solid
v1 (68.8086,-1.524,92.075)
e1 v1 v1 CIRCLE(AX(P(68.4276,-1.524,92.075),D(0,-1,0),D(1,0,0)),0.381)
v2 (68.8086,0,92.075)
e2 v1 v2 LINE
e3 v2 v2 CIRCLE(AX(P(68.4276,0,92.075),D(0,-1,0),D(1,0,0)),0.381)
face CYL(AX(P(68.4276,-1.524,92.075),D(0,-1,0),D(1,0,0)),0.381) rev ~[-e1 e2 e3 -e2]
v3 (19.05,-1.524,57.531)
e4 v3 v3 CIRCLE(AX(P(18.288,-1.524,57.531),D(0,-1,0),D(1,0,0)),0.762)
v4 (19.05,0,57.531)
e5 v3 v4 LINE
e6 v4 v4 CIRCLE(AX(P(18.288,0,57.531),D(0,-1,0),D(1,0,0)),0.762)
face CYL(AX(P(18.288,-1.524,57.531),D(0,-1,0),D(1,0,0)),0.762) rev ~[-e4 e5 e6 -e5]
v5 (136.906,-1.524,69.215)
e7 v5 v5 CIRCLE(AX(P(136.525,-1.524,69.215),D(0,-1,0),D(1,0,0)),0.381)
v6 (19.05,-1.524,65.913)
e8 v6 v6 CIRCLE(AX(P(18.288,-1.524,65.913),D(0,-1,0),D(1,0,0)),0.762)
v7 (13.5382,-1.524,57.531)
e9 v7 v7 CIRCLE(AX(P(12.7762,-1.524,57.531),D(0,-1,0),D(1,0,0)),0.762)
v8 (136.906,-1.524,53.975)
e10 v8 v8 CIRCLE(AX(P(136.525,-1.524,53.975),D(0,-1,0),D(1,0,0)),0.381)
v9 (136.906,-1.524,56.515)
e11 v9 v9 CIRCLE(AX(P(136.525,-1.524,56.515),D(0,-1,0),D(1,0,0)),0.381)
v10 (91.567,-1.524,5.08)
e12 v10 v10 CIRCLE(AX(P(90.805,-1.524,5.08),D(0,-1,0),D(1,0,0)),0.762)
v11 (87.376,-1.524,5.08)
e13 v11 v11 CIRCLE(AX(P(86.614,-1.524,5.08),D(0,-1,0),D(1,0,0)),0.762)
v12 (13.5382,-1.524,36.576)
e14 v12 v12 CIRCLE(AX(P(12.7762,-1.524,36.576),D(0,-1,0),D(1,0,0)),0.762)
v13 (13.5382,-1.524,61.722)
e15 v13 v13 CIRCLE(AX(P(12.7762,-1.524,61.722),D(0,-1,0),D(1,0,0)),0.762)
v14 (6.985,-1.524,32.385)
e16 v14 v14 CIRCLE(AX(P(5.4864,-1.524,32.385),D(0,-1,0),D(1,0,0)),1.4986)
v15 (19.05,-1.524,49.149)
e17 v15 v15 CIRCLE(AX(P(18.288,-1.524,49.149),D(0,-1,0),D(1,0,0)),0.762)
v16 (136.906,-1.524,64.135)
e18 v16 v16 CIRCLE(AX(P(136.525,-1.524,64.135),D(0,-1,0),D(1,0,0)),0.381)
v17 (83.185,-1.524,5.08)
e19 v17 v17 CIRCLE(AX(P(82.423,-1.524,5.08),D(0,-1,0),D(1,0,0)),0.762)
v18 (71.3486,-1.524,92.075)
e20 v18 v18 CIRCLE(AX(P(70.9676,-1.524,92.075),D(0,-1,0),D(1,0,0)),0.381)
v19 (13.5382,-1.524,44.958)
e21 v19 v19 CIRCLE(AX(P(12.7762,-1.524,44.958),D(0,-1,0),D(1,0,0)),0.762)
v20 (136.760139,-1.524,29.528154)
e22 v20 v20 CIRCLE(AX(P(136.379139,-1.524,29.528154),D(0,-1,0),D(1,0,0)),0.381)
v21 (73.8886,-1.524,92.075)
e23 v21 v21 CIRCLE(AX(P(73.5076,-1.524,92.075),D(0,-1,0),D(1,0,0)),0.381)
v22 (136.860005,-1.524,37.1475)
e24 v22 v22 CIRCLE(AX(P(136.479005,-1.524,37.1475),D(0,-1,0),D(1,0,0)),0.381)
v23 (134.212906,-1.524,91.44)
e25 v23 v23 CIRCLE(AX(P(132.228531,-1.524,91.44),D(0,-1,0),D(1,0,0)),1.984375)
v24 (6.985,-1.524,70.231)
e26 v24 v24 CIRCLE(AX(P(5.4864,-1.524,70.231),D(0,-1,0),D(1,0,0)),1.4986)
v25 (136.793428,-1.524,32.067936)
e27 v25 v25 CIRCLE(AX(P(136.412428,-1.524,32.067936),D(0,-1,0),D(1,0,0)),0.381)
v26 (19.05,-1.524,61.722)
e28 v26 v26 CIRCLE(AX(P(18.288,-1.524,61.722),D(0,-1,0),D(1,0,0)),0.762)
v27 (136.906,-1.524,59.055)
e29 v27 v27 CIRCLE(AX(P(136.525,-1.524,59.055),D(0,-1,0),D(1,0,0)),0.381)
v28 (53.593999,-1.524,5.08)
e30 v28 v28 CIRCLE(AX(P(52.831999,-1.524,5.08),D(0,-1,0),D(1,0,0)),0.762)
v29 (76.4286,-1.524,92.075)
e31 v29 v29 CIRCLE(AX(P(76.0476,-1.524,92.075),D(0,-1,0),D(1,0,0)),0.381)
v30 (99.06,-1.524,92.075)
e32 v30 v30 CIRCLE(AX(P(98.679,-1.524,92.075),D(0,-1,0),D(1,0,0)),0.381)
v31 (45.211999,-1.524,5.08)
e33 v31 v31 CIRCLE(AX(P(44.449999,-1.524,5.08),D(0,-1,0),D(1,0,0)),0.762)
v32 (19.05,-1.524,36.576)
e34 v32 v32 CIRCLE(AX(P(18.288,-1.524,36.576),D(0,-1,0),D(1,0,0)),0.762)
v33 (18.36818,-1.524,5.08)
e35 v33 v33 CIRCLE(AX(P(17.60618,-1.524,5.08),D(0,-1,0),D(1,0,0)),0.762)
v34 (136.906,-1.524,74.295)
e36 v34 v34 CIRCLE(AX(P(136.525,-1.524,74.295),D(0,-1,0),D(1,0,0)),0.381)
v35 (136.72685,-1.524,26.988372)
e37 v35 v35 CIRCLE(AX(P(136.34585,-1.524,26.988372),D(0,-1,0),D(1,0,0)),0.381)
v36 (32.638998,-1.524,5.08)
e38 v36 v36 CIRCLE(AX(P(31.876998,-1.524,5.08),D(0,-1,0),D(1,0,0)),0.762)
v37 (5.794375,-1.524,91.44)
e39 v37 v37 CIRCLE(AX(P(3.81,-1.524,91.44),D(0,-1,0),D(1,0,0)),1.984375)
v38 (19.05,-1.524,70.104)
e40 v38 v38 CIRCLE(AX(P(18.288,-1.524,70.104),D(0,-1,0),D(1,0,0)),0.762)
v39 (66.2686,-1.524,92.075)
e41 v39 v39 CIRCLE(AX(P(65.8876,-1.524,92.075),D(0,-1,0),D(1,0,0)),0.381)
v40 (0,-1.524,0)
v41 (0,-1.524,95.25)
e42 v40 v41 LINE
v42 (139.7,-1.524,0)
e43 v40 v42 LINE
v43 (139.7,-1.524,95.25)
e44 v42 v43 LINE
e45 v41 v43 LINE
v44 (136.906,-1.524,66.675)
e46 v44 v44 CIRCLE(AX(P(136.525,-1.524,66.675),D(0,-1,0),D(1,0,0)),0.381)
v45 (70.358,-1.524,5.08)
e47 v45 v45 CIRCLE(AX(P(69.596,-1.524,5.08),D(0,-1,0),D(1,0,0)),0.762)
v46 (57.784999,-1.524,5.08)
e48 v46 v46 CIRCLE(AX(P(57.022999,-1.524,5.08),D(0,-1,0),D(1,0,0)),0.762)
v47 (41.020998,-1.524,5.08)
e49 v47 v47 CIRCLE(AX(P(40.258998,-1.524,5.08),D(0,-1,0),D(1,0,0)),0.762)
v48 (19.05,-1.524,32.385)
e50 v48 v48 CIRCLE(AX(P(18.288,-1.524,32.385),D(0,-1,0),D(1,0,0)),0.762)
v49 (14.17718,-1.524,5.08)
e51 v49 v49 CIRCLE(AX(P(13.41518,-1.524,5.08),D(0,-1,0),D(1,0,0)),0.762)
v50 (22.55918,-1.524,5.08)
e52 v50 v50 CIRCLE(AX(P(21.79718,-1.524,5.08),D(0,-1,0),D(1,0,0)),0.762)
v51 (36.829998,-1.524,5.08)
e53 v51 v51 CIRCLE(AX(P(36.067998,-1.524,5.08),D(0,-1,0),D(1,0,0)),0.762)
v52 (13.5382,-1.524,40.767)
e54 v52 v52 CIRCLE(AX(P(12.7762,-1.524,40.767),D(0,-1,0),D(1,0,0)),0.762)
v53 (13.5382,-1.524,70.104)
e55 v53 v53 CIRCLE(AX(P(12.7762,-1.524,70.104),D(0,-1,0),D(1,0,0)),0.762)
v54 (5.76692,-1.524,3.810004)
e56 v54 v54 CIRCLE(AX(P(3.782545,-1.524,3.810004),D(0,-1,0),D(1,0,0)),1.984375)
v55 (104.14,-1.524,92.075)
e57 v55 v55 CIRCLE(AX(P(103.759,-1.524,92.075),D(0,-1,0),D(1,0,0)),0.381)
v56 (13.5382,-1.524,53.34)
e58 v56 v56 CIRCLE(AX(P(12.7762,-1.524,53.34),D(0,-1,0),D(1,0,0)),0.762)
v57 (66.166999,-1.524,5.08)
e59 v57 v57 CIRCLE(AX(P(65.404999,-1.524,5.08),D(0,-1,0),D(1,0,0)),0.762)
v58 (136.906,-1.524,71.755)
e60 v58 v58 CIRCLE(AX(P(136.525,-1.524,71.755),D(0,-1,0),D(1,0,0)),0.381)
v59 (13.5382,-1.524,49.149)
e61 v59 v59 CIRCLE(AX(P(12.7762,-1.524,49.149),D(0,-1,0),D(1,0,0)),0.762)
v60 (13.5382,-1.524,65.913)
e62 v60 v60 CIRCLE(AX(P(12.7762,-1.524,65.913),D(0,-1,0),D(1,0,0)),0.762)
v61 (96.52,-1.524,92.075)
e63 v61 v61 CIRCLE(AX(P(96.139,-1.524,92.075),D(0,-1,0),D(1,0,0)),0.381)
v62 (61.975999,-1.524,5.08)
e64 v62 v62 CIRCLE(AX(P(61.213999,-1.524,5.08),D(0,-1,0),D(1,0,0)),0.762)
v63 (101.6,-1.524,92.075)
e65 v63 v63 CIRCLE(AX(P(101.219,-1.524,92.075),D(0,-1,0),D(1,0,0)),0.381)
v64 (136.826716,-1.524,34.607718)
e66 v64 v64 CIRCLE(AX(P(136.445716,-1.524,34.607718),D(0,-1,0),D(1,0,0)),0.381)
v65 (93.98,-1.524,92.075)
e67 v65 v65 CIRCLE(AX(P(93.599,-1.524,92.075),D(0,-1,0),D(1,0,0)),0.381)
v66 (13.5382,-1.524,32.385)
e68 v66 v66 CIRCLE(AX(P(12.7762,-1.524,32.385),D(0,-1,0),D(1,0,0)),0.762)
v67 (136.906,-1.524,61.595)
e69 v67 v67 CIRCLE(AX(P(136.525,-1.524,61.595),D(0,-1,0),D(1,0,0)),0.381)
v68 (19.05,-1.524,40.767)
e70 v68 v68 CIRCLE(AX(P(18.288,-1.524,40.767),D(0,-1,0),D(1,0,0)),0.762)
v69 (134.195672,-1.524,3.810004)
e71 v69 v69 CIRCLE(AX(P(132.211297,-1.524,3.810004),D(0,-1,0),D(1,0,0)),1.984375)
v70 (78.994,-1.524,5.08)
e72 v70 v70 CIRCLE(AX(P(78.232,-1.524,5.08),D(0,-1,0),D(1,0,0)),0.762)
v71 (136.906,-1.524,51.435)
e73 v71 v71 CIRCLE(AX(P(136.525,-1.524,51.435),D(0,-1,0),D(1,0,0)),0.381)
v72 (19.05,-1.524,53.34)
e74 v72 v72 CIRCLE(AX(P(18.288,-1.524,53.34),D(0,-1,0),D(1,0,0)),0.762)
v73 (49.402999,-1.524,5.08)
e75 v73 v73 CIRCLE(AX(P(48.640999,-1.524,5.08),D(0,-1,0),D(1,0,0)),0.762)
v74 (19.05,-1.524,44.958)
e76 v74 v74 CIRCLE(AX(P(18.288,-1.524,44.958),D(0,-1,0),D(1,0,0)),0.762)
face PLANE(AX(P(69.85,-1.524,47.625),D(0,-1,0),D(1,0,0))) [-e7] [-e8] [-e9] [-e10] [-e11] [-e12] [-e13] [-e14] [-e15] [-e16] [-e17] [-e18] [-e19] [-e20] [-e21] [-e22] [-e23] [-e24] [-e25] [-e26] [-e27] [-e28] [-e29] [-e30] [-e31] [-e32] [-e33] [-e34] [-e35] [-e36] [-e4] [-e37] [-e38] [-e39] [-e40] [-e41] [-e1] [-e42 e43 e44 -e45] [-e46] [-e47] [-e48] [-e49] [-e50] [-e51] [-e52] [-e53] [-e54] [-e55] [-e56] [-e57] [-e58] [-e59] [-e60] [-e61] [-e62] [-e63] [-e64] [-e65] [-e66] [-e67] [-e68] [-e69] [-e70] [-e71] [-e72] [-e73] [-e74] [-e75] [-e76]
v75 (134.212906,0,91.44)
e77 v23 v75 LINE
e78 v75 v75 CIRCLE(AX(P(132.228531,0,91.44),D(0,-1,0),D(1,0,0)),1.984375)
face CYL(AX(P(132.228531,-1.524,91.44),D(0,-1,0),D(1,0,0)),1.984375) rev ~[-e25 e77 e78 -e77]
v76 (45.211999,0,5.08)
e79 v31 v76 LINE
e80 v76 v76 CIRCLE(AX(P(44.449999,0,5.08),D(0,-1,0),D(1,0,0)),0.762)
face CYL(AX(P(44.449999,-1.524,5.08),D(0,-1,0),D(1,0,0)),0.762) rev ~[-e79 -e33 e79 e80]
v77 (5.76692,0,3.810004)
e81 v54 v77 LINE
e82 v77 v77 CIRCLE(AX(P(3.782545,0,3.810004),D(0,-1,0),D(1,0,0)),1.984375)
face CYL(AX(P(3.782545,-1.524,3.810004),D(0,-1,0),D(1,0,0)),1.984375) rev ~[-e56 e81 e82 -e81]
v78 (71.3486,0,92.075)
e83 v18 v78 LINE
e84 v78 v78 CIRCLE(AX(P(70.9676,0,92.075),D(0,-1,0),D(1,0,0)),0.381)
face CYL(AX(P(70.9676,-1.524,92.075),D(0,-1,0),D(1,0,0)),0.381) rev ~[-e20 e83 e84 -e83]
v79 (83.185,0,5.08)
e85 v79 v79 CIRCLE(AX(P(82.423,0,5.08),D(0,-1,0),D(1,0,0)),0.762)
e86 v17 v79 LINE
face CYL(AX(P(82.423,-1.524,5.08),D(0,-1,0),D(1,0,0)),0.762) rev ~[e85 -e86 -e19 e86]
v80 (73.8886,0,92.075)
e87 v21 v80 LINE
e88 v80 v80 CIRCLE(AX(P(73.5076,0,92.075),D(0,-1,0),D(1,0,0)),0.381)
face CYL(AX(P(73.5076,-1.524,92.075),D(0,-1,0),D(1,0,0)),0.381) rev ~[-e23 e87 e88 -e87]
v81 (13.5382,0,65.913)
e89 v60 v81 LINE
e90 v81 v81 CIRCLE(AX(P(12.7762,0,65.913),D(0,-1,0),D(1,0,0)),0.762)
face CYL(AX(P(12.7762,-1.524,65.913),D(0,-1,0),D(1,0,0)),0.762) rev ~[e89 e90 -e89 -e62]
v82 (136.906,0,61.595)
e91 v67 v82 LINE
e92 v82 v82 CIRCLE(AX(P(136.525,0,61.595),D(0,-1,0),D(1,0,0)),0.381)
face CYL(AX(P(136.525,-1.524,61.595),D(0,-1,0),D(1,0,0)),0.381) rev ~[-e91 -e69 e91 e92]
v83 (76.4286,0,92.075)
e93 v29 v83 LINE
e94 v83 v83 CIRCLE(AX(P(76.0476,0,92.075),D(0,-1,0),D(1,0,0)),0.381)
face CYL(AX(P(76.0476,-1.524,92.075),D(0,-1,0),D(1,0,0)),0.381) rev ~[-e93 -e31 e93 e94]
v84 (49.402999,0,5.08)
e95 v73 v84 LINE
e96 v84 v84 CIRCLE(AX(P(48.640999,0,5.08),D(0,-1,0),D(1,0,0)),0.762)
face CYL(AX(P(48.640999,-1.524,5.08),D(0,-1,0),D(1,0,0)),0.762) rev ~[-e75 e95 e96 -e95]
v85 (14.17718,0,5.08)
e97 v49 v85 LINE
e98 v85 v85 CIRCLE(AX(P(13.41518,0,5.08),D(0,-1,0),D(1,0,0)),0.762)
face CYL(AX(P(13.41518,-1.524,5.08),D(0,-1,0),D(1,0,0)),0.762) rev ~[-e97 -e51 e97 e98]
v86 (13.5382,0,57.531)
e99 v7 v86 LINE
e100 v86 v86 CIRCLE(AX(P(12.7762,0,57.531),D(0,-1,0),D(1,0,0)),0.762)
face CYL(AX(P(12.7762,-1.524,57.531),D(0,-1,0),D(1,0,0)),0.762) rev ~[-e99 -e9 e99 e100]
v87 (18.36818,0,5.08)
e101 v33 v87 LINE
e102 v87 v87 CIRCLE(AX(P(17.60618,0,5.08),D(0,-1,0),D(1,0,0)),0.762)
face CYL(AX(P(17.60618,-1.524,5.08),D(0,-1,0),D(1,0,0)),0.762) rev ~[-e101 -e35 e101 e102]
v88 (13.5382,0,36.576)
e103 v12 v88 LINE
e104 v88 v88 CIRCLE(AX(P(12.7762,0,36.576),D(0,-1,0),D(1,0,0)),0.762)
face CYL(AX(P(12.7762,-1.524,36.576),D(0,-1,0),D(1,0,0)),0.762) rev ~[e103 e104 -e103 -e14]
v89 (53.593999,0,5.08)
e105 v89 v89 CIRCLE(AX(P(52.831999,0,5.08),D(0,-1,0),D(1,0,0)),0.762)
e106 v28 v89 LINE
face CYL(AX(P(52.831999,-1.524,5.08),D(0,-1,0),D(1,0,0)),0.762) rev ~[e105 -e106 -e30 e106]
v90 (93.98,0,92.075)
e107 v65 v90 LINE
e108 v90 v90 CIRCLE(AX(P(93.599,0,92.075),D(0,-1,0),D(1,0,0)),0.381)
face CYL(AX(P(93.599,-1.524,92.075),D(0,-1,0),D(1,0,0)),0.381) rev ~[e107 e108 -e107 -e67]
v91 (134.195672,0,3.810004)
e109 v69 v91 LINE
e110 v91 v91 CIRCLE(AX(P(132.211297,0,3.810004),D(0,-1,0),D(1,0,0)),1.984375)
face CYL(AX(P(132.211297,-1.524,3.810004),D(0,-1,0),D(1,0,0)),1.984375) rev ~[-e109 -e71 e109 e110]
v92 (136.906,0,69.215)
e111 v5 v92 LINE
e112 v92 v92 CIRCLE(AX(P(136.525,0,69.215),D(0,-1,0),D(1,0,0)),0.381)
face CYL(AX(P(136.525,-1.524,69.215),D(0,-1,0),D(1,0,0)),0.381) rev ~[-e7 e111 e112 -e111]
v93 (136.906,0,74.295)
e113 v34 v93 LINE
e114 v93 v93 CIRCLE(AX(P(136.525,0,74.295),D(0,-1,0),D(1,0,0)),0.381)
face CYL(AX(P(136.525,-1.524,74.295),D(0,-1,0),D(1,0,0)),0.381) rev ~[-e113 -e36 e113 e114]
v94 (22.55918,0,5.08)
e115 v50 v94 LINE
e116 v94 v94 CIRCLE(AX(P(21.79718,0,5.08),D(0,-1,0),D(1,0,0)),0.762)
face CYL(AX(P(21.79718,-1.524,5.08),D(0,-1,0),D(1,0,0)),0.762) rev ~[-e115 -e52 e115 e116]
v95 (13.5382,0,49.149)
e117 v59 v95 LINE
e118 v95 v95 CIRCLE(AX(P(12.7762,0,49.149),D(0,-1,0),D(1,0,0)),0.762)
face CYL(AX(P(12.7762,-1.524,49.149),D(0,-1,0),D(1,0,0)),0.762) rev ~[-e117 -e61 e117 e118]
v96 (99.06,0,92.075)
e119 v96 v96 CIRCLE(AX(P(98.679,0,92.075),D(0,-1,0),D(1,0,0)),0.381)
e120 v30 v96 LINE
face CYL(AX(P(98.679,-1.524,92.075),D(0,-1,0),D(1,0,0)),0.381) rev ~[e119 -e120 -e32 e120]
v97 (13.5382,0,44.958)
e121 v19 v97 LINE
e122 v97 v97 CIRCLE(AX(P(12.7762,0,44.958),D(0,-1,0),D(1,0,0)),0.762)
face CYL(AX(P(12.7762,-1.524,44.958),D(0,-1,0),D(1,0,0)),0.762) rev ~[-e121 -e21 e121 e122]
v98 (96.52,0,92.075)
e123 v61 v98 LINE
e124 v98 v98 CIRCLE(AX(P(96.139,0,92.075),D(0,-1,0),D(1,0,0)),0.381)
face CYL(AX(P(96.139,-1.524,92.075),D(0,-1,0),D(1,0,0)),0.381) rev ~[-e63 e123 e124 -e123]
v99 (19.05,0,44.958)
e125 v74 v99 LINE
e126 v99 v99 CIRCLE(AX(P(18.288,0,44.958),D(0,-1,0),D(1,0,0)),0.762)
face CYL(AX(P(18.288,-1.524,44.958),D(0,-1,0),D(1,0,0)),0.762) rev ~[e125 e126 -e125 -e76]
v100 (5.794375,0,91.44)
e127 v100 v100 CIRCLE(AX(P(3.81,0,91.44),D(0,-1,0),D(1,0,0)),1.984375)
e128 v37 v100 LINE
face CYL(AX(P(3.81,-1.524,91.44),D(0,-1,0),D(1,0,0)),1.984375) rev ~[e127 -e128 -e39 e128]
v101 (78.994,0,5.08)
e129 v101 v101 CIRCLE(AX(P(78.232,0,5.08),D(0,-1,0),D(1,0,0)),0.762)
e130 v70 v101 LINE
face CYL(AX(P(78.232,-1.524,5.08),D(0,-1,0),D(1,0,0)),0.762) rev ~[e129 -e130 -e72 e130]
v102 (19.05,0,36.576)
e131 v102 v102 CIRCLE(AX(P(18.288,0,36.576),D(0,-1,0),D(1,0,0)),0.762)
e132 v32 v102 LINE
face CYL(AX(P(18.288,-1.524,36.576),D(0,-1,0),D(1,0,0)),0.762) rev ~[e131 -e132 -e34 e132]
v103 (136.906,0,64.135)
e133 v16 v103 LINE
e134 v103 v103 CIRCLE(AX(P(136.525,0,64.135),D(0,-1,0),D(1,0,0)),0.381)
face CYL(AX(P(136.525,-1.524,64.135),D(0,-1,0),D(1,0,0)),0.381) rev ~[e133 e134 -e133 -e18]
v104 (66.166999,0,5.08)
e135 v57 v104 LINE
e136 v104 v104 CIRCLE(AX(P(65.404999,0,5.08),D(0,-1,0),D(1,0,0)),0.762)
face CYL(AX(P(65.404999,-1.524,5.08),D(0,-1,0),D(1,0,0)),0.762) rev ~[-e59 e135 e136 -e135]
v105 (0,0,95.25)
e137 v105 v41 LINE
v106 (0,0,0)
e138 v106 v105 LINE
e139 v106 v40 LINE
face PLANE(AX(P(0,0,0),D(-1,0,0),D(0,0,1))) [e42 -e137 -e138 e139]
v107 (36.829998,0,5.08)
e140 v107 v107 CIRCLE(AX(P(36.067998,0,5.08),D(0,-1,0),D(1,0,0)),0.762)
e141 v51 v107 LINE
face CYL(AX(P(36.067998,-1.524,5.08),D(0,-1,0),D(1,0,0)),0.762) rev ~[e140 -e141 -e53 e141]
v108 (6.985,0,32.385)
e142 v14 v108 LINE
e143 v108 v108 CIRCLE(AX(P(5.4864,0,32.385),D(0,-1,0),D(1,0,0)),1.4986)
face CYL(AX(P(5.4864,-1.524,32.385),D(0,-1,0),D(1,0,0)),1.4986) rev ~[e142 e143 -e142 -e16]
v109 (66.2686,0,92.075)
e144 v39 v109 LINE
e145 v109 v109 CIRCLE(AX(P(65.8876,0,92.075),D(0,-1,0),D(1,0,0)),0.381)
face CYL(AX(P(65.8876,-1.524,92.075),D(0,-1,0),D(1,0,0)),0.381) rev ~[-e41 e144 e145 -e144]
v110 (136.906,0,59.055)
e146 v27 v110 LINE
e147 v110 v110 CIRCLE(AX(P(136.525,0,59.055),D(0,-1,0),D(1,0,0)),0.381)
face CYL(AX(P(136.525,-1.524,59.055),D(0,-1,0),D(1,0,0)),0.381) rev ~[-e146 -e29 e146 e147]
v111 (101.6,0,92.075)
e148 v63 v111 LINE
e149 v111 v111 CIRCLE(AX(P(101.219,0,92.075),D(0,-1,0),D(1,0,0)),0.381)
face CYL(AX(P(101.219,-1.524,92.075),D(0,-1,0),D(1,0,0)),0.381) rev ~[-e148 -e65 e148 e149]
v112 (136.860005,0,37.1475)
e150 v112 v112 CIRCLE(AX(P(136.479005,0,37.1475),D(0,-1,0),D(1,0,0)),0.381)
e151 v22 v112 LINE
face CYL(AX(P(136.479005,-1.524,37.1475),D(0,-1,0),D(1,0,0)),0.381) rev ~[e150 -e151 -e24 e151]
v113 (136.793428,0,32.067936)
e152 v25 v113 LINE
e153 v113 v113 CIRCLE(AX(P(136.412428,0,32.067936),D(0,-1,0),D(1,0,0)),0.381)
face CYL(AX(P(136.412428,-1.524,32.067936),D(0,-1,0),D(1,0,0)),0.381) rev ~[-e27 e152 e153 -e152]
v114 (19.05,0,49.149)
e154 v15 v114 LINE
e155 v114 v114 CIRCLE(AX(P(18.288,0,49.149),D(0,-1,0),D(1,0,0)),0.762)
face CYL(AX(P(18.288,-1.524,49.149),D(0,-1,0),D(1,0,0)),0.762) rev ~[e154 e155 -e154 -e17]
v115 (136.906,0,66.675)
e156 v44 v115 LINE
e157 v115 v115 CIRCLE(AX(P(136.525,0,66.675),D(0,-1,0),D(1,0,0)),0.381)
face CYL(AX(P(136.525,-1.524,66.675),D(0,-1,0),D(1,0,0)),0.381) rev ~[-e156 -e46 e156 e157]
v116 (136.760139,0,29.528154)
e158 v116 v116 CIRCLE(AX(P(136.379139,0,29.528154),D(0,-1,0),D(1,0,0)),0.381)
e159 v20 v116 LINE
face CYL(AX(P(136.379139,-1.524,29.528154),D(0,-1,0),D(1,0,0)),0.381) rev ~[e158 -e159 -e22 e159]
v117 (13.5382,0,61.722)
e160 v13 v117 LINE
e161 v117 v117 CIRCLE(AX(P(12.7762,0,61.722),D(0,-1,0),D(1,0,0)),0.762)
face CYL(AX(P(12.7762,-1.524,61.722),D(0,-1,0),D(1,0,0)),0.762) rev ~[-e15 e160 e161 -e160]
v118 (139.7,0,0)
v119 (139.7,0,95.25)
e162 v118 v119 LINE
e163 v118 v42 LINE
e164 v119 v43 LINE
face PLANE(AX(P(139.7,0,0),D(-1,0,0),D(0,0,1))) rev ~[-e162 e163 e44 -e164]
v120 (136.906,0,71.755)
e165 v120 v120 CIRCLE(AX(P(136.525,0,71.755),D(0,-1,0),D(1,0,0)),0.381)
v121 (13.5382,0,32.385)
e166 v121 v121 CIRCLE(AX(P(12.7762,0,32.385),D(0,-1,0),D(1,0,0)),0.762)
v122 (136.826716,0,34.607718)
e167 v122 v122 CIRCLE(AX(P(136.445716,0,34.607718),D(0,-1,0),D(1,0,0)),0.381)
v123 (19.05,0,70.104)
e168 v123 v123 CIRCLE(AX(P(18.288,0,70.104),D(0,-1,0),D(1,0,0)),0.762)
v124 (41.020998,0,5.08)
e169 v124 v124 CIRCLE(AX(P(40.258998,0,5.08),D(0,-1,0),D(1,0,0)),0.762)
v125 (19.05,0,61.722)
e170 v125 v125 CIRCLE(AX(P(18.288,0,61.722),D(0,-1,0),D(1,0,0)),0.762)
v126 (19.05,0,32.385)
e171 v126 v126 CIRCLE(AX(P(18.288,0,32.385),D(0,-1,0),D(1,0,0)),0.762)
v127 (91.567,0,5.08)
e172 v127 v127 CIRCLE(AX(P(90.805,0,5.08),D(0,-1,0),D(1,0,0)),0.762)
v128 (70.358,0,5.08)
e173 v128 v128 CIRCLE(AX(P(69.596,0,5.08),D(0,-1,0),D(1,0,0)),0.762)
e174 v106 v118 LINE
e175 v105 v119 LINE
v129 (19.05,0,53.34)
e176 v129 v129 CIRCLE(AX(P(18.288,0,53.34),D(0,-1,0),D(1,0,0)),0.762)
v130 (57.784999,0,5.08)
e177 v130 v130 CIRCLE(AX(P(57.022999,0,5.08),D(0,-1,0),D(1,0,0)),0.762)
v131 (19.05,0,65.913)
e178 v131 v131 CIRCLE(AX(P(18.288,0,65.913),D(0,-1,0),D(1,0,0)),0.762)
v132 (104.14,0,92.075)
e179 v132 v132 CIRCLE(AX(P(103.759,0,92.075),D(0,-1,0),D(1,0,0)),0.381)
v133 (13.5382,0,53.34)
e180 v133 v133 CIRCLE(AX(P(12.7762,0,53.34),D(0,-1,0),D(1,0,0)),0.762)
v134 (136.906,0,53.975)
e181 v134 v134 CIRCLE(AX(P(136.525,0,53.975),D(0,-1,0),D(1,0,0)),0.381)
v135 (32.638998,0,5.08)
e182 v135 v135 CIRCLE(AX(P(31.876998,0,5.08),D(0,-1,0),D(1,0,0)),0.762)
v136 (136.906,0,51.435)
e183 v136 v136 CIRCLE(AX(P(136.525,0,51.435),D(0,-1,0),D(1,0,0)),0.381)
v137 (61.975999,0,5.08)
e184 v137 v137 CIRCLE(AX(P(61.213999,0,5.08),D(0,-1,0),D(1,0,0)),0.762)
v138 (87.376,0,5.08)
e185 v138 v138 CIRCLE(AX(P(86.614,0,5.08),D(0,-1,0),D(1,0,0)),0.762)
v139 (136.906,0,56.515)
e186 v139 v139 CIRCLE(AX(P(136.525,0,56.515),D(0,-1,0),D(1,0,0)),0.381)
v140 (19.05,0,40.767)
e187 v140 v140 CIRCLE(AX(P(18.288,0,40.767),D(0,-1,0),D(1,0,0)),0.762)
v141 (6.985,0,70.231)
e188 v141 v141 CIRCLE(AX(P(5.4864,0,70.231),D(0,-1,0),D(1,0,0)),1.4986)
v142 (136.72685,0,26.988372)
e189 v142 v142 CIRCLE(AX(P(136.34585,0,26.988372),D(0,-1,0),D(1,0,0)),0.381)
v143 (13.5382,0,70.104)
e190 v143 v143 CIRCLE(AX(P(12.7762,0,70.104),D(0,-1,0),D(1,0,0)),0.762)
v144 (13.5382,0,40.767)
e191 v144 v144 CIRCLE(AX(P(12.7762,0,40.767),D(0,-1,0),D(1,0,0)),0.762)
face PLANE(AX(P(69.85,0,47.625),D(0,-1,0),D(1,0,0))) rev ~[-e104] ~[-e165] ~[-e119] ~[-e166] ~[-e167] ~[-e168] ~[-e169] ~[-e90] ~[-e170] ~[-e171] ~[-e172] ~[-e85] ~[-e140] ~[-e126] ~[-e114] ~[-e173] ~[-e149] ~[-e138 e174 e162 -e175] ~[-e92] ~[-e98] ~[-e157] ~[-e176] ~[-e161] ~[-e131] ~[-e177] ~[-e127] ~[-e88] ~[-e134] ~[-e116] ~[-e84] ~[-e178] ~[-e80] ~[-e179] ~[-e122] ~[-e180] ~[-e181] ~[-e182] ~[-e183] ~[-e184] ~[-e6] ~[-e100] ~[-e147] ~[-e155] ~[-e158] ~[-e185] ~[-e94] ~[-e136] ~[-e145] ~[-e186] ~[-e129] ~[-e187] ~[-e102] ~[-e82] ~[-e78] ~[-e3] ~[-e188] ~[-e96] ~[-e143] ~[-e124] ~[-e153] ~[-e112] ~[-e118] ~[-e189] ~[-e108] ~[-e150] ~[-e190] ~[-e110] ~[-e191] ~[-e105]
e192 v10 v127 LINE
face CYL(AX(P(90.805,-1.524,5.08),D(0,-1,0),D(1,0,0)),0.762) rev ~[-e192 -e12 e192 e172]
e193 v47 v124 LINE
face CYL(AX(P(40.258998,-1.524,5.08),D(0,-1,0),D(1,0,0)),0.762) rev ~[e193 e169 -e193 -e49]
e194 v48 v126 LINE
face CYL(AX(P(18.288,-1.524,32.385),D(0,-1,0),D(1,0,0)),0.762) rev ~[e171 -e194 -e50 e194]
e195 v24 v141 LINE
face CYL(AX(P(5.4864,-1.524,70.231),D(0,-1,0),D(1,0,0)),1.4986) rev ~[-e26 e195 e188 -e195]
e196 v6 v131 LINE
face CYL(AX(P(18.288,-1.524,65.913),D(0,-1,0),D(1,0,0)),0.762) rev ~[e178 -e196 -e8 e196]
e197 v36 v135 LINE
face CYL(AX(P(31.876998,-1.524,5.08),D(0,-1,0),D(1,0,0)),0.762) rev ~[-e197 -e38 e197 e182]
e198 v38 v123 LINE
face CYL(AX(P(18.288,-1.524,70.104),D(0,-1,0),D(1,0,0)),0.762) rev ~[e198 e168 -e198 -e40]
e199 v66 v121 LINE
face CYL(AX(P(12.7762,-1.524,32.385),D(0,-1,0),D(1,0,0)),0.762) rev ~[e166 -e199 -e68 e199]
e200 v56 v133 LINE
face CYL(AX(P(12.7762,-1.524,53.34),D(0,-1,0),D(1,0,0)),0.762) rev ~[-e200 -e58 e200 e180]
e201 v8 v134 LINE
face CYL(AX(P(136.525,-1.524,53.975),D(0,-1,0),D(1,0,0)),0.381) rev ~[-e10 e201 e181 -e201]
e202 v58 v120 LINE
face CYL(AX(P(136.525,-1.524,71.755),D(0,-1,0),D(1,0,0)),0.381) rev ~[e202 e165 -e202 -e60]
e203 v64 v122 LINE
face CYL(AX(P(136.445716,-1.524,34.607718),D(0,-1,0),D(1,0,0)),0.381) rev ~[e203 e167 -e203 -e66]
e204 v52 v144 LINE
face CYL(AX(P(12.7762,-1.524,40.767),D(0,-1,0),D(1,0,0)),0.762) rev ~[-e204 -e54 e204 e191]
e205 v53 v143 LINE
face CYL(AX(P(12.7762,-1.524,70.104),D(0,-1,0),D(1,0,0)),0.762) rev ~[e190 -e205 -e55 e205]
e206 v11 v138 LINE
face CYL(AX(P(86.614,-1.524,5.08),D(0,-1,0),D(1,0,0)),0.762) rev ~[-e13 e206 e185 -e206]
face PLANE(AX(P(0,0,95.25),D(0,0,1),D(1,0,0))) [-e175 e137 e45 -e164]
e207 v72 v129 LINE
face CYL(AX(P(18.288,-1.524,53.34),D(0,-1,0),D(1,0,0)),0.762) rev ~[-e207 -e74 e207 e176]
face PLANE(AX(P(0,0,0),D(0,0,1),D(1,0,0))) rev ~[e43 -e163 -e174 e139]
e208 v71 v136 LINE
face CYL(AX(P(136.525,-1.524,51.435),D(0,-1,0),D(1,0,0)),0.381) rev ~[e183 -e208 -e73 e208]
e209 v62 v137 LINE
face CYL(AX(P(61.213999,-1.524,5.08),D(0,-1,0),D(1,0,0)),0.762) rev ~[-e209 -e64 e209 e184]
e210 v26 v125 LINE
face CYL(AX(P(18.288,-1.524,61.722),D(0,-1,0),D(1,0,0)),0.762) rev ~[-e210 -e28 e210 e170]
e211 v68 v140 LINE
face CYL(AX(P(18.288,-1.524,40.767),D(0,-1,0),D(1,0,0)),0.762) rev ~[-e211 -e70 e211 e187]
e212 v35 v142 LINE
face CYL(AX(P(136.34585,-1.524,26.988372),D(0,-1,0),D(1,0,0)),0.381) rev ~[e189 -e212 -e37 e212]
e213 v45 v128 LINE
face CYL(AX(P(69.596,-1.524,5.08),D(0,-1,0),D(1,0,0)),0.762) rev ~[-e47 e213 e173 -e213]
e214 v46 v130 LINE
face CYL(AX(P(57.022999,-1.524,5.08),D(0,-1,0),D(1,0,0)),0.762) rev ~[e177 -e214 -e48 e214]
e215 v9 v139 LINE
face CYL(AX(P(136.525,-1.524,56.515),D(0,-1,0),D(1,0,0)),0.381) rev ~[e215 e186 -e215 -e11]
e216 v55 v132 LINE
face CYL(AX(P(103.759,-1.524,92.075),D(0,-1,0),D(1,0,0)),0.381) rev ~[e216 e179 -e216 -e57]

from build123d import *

# Parameters (mm, degrees)
F0_W     = 139.7
F0_H     = 95.25
F1_DEPTH = 1.524
F2_R     = 1.984375
F3_DEPTH = 25.4
F4_R     = 0.381
F4_R_2   = 0.762
F4_R_3   = 1.4986
F5_DEPTH = 1.525


with BuildPart() as f1:
    # F0 (on Front) → F1 (new body)
    with BuildSketch(Plane.XZ):
        with Locations((69.85, 47.625)):
            Rectangle(F0_W, F0_H)
    extrude(amount=F1_DEPTH)

    # F2 (on face) → F3 (cut)
    with BuildSketch(Plane.XZ.offset(1.524)):
        with Locations((3.81, 91.44)):
            Circle(F2_R)
        with Locations((132.228531, 91.44)):
            Circle(F2_R)
        with Locations((3.782545, 3.810004)):
            Circle(F2_R)
        with Locations((132.211297, 3.810004)):
            Circle(F2_R)
    extrude(amount=-F3_DEPTH, mode=Mode.SUBTRACT)

    # F4 (on face) → F5 (cut, through all)
    with BuildSketch(Plane.XZ.offset(1.524)):
        with Locations((136.525, 74.295)):
            Circle(F4_R)
        with Locations((136.525, 71.755)):
            Circle(F4_R)
        with Locations((136.525, 69.215)):
            Circle(F4_R)
        with Locations((136.525, 66.675)):
            Circle(F4_R)
        with Locations((136.525, 64.135)):
            Circle(F4_R)
        with Locations((136.525, 61.595)):
            Circle(F4_R)
        with Locations((136.525, 59.055)):
            Circle(F4_R)
        with Locations((136.525, 56.515)):
            Circle(F4_R)
        with Locations((136.525, 53.975)):
            Circle(F4_R)
        with Locations((136.525, 51.435)):
            Circle(F4_R)
        with Locations((136.479005, 37.1475)):
            Circle(F4_R)
        with Locations((136.445716, 34.607718)):
            Circle(F4_R)
        with Locations((136.412428, 32.067936)):
            Circle(F4_R)
        with Locations((136.379139, 29.528154)):
            Circle(F4_R)
        with Locations((136.34585, 26.988372)):
            Circle(F4_R)
        with Locations((103.759, 92.075)):
            Circle(F4_R)
        with Locations((101.219, 92.075)):
            Circle(F4_R)
        with Locations((98.679, 92.075)):
            Circle(F4_R)
        with Locations((96.139, 92.075)):
            Circle(F4_R)
        with Locations((93.599, 92.075)):
            Circle(F4_R)
        with Locations((76.0476, 92.075)):
            Circle(F4_R)
        with Locations((73.5076, 92.075)):
            Circle(F4_R)
        with Locations((70.9676, 92.075)):
            Circle(F4_R)
        with Locations((68.4276, 92.075)):
            Circle(F4_R)
        with Locations((65.8876, 92.075)):
            Circle(F4_R)
        with Locations((90.805, 5.08)):
            Circle(F4_R_2)
        with Locations((86.614, 5.08)):
            Circle(F4_R_2)
        with Locations((82.423, 5.08)):
            Circle(F4_R_2)
        with Locations((78.232, 5.08)):
            Circle(F4_R_2)
        with Locations((69.596, 5.08)):
            Circle(F4_R_2)
        with Locations((65.404999, 5.08)):
            Circle(F4_R_2)
        with Locations((61.213999, 5.08)):
            Circle(F4_R_2)
        with Locations((57.022999, 5.08)):
            Circle(F4_R_2)
        with Locations((52.831999, 5.08)):
            Circle(F4_R_2)
        with Locations((48.640999, 5.08)):
            Circle(F4_R_2)
        with Locations((44.449999, 5.08)):
            Circle(F4_R_2)
        with Locations((40.258998, 5.08)):
            Circle(F4_R_2)
        with Locations((36.067998, 5.08)):
            Circle(F4_R_2)
        with Locations((31.876998, 5.08)):
            Circle(F4_R_2)
        with Locations((21.79718, 5.08)):
            Circle(F4_R_2)
        with Locations((17.60618, 5.08)):
            Circle(F4_R_2)
        with Locations((13.41518, 5.08)):
            Circle(F4_R_2)
        with Locations((18.288, 32.385)):
            Circle(F4_R_2)
        with Locations((18.288, 36.576)):
            Circle(F4_R_2)
        with Locations((18.288, 40.767)):
            Circle(F4_R_2)
        with Locations((18.288, 44.958)):
            Circle(F4_R_2)
        with Locations((18.288, 49.149)):
            Circle(F4_R_2)
        with Locations((18.288, 53.34)):
            Circle(F4_R_2)
        with Locations((18.288, 57.531)):
            Circle(F4_R_2)
        with Locations((18.288, 61.722)):
            Circle(F4_R_2)
        with Locations((18.288, 65.913)):
            Circle(F4_R_2)
        with Locations((18.288, 70.104)):
            Circle(F4_R_2)
        with Locations((12.7762, 32.385)):
            Circle(F4_R_2)
        with Locations((12.7762, 36.576)):
            Circle(F4_R_2)
        with Locations((12.7762, 40.767)):
            Circle(F4_R_2)
        with Locations((12.7762, 44.958)):
            Circle(F4_R_2)
        with Locations((12.7762, 49.149)):
            Circle(F4_R_2)
        with Locations((12.7762, 53.34)):
            Circle(F4_R_2)
        with Locations((12.7762, 57.531)):
            Circle(F4_R_2)
        with Locations((12.7762, 61.722)):
            Circle(F4_R_2)
        with Locations((12.7762, 65.913)):
            Circle(F4_R_2)
        with Locations((12.7762, 70.104)):
            Circle(F4_R_2)
        with Locations((5.4864, 32.385)):
            Circle(F4_R_3)
        with Locations((5.4864, 70.231)):
            Circle(F4_R_3)
    extrude(amount=-F5_DEPTH, mode=Mode.SUBTRACT)


solid = f1.part
